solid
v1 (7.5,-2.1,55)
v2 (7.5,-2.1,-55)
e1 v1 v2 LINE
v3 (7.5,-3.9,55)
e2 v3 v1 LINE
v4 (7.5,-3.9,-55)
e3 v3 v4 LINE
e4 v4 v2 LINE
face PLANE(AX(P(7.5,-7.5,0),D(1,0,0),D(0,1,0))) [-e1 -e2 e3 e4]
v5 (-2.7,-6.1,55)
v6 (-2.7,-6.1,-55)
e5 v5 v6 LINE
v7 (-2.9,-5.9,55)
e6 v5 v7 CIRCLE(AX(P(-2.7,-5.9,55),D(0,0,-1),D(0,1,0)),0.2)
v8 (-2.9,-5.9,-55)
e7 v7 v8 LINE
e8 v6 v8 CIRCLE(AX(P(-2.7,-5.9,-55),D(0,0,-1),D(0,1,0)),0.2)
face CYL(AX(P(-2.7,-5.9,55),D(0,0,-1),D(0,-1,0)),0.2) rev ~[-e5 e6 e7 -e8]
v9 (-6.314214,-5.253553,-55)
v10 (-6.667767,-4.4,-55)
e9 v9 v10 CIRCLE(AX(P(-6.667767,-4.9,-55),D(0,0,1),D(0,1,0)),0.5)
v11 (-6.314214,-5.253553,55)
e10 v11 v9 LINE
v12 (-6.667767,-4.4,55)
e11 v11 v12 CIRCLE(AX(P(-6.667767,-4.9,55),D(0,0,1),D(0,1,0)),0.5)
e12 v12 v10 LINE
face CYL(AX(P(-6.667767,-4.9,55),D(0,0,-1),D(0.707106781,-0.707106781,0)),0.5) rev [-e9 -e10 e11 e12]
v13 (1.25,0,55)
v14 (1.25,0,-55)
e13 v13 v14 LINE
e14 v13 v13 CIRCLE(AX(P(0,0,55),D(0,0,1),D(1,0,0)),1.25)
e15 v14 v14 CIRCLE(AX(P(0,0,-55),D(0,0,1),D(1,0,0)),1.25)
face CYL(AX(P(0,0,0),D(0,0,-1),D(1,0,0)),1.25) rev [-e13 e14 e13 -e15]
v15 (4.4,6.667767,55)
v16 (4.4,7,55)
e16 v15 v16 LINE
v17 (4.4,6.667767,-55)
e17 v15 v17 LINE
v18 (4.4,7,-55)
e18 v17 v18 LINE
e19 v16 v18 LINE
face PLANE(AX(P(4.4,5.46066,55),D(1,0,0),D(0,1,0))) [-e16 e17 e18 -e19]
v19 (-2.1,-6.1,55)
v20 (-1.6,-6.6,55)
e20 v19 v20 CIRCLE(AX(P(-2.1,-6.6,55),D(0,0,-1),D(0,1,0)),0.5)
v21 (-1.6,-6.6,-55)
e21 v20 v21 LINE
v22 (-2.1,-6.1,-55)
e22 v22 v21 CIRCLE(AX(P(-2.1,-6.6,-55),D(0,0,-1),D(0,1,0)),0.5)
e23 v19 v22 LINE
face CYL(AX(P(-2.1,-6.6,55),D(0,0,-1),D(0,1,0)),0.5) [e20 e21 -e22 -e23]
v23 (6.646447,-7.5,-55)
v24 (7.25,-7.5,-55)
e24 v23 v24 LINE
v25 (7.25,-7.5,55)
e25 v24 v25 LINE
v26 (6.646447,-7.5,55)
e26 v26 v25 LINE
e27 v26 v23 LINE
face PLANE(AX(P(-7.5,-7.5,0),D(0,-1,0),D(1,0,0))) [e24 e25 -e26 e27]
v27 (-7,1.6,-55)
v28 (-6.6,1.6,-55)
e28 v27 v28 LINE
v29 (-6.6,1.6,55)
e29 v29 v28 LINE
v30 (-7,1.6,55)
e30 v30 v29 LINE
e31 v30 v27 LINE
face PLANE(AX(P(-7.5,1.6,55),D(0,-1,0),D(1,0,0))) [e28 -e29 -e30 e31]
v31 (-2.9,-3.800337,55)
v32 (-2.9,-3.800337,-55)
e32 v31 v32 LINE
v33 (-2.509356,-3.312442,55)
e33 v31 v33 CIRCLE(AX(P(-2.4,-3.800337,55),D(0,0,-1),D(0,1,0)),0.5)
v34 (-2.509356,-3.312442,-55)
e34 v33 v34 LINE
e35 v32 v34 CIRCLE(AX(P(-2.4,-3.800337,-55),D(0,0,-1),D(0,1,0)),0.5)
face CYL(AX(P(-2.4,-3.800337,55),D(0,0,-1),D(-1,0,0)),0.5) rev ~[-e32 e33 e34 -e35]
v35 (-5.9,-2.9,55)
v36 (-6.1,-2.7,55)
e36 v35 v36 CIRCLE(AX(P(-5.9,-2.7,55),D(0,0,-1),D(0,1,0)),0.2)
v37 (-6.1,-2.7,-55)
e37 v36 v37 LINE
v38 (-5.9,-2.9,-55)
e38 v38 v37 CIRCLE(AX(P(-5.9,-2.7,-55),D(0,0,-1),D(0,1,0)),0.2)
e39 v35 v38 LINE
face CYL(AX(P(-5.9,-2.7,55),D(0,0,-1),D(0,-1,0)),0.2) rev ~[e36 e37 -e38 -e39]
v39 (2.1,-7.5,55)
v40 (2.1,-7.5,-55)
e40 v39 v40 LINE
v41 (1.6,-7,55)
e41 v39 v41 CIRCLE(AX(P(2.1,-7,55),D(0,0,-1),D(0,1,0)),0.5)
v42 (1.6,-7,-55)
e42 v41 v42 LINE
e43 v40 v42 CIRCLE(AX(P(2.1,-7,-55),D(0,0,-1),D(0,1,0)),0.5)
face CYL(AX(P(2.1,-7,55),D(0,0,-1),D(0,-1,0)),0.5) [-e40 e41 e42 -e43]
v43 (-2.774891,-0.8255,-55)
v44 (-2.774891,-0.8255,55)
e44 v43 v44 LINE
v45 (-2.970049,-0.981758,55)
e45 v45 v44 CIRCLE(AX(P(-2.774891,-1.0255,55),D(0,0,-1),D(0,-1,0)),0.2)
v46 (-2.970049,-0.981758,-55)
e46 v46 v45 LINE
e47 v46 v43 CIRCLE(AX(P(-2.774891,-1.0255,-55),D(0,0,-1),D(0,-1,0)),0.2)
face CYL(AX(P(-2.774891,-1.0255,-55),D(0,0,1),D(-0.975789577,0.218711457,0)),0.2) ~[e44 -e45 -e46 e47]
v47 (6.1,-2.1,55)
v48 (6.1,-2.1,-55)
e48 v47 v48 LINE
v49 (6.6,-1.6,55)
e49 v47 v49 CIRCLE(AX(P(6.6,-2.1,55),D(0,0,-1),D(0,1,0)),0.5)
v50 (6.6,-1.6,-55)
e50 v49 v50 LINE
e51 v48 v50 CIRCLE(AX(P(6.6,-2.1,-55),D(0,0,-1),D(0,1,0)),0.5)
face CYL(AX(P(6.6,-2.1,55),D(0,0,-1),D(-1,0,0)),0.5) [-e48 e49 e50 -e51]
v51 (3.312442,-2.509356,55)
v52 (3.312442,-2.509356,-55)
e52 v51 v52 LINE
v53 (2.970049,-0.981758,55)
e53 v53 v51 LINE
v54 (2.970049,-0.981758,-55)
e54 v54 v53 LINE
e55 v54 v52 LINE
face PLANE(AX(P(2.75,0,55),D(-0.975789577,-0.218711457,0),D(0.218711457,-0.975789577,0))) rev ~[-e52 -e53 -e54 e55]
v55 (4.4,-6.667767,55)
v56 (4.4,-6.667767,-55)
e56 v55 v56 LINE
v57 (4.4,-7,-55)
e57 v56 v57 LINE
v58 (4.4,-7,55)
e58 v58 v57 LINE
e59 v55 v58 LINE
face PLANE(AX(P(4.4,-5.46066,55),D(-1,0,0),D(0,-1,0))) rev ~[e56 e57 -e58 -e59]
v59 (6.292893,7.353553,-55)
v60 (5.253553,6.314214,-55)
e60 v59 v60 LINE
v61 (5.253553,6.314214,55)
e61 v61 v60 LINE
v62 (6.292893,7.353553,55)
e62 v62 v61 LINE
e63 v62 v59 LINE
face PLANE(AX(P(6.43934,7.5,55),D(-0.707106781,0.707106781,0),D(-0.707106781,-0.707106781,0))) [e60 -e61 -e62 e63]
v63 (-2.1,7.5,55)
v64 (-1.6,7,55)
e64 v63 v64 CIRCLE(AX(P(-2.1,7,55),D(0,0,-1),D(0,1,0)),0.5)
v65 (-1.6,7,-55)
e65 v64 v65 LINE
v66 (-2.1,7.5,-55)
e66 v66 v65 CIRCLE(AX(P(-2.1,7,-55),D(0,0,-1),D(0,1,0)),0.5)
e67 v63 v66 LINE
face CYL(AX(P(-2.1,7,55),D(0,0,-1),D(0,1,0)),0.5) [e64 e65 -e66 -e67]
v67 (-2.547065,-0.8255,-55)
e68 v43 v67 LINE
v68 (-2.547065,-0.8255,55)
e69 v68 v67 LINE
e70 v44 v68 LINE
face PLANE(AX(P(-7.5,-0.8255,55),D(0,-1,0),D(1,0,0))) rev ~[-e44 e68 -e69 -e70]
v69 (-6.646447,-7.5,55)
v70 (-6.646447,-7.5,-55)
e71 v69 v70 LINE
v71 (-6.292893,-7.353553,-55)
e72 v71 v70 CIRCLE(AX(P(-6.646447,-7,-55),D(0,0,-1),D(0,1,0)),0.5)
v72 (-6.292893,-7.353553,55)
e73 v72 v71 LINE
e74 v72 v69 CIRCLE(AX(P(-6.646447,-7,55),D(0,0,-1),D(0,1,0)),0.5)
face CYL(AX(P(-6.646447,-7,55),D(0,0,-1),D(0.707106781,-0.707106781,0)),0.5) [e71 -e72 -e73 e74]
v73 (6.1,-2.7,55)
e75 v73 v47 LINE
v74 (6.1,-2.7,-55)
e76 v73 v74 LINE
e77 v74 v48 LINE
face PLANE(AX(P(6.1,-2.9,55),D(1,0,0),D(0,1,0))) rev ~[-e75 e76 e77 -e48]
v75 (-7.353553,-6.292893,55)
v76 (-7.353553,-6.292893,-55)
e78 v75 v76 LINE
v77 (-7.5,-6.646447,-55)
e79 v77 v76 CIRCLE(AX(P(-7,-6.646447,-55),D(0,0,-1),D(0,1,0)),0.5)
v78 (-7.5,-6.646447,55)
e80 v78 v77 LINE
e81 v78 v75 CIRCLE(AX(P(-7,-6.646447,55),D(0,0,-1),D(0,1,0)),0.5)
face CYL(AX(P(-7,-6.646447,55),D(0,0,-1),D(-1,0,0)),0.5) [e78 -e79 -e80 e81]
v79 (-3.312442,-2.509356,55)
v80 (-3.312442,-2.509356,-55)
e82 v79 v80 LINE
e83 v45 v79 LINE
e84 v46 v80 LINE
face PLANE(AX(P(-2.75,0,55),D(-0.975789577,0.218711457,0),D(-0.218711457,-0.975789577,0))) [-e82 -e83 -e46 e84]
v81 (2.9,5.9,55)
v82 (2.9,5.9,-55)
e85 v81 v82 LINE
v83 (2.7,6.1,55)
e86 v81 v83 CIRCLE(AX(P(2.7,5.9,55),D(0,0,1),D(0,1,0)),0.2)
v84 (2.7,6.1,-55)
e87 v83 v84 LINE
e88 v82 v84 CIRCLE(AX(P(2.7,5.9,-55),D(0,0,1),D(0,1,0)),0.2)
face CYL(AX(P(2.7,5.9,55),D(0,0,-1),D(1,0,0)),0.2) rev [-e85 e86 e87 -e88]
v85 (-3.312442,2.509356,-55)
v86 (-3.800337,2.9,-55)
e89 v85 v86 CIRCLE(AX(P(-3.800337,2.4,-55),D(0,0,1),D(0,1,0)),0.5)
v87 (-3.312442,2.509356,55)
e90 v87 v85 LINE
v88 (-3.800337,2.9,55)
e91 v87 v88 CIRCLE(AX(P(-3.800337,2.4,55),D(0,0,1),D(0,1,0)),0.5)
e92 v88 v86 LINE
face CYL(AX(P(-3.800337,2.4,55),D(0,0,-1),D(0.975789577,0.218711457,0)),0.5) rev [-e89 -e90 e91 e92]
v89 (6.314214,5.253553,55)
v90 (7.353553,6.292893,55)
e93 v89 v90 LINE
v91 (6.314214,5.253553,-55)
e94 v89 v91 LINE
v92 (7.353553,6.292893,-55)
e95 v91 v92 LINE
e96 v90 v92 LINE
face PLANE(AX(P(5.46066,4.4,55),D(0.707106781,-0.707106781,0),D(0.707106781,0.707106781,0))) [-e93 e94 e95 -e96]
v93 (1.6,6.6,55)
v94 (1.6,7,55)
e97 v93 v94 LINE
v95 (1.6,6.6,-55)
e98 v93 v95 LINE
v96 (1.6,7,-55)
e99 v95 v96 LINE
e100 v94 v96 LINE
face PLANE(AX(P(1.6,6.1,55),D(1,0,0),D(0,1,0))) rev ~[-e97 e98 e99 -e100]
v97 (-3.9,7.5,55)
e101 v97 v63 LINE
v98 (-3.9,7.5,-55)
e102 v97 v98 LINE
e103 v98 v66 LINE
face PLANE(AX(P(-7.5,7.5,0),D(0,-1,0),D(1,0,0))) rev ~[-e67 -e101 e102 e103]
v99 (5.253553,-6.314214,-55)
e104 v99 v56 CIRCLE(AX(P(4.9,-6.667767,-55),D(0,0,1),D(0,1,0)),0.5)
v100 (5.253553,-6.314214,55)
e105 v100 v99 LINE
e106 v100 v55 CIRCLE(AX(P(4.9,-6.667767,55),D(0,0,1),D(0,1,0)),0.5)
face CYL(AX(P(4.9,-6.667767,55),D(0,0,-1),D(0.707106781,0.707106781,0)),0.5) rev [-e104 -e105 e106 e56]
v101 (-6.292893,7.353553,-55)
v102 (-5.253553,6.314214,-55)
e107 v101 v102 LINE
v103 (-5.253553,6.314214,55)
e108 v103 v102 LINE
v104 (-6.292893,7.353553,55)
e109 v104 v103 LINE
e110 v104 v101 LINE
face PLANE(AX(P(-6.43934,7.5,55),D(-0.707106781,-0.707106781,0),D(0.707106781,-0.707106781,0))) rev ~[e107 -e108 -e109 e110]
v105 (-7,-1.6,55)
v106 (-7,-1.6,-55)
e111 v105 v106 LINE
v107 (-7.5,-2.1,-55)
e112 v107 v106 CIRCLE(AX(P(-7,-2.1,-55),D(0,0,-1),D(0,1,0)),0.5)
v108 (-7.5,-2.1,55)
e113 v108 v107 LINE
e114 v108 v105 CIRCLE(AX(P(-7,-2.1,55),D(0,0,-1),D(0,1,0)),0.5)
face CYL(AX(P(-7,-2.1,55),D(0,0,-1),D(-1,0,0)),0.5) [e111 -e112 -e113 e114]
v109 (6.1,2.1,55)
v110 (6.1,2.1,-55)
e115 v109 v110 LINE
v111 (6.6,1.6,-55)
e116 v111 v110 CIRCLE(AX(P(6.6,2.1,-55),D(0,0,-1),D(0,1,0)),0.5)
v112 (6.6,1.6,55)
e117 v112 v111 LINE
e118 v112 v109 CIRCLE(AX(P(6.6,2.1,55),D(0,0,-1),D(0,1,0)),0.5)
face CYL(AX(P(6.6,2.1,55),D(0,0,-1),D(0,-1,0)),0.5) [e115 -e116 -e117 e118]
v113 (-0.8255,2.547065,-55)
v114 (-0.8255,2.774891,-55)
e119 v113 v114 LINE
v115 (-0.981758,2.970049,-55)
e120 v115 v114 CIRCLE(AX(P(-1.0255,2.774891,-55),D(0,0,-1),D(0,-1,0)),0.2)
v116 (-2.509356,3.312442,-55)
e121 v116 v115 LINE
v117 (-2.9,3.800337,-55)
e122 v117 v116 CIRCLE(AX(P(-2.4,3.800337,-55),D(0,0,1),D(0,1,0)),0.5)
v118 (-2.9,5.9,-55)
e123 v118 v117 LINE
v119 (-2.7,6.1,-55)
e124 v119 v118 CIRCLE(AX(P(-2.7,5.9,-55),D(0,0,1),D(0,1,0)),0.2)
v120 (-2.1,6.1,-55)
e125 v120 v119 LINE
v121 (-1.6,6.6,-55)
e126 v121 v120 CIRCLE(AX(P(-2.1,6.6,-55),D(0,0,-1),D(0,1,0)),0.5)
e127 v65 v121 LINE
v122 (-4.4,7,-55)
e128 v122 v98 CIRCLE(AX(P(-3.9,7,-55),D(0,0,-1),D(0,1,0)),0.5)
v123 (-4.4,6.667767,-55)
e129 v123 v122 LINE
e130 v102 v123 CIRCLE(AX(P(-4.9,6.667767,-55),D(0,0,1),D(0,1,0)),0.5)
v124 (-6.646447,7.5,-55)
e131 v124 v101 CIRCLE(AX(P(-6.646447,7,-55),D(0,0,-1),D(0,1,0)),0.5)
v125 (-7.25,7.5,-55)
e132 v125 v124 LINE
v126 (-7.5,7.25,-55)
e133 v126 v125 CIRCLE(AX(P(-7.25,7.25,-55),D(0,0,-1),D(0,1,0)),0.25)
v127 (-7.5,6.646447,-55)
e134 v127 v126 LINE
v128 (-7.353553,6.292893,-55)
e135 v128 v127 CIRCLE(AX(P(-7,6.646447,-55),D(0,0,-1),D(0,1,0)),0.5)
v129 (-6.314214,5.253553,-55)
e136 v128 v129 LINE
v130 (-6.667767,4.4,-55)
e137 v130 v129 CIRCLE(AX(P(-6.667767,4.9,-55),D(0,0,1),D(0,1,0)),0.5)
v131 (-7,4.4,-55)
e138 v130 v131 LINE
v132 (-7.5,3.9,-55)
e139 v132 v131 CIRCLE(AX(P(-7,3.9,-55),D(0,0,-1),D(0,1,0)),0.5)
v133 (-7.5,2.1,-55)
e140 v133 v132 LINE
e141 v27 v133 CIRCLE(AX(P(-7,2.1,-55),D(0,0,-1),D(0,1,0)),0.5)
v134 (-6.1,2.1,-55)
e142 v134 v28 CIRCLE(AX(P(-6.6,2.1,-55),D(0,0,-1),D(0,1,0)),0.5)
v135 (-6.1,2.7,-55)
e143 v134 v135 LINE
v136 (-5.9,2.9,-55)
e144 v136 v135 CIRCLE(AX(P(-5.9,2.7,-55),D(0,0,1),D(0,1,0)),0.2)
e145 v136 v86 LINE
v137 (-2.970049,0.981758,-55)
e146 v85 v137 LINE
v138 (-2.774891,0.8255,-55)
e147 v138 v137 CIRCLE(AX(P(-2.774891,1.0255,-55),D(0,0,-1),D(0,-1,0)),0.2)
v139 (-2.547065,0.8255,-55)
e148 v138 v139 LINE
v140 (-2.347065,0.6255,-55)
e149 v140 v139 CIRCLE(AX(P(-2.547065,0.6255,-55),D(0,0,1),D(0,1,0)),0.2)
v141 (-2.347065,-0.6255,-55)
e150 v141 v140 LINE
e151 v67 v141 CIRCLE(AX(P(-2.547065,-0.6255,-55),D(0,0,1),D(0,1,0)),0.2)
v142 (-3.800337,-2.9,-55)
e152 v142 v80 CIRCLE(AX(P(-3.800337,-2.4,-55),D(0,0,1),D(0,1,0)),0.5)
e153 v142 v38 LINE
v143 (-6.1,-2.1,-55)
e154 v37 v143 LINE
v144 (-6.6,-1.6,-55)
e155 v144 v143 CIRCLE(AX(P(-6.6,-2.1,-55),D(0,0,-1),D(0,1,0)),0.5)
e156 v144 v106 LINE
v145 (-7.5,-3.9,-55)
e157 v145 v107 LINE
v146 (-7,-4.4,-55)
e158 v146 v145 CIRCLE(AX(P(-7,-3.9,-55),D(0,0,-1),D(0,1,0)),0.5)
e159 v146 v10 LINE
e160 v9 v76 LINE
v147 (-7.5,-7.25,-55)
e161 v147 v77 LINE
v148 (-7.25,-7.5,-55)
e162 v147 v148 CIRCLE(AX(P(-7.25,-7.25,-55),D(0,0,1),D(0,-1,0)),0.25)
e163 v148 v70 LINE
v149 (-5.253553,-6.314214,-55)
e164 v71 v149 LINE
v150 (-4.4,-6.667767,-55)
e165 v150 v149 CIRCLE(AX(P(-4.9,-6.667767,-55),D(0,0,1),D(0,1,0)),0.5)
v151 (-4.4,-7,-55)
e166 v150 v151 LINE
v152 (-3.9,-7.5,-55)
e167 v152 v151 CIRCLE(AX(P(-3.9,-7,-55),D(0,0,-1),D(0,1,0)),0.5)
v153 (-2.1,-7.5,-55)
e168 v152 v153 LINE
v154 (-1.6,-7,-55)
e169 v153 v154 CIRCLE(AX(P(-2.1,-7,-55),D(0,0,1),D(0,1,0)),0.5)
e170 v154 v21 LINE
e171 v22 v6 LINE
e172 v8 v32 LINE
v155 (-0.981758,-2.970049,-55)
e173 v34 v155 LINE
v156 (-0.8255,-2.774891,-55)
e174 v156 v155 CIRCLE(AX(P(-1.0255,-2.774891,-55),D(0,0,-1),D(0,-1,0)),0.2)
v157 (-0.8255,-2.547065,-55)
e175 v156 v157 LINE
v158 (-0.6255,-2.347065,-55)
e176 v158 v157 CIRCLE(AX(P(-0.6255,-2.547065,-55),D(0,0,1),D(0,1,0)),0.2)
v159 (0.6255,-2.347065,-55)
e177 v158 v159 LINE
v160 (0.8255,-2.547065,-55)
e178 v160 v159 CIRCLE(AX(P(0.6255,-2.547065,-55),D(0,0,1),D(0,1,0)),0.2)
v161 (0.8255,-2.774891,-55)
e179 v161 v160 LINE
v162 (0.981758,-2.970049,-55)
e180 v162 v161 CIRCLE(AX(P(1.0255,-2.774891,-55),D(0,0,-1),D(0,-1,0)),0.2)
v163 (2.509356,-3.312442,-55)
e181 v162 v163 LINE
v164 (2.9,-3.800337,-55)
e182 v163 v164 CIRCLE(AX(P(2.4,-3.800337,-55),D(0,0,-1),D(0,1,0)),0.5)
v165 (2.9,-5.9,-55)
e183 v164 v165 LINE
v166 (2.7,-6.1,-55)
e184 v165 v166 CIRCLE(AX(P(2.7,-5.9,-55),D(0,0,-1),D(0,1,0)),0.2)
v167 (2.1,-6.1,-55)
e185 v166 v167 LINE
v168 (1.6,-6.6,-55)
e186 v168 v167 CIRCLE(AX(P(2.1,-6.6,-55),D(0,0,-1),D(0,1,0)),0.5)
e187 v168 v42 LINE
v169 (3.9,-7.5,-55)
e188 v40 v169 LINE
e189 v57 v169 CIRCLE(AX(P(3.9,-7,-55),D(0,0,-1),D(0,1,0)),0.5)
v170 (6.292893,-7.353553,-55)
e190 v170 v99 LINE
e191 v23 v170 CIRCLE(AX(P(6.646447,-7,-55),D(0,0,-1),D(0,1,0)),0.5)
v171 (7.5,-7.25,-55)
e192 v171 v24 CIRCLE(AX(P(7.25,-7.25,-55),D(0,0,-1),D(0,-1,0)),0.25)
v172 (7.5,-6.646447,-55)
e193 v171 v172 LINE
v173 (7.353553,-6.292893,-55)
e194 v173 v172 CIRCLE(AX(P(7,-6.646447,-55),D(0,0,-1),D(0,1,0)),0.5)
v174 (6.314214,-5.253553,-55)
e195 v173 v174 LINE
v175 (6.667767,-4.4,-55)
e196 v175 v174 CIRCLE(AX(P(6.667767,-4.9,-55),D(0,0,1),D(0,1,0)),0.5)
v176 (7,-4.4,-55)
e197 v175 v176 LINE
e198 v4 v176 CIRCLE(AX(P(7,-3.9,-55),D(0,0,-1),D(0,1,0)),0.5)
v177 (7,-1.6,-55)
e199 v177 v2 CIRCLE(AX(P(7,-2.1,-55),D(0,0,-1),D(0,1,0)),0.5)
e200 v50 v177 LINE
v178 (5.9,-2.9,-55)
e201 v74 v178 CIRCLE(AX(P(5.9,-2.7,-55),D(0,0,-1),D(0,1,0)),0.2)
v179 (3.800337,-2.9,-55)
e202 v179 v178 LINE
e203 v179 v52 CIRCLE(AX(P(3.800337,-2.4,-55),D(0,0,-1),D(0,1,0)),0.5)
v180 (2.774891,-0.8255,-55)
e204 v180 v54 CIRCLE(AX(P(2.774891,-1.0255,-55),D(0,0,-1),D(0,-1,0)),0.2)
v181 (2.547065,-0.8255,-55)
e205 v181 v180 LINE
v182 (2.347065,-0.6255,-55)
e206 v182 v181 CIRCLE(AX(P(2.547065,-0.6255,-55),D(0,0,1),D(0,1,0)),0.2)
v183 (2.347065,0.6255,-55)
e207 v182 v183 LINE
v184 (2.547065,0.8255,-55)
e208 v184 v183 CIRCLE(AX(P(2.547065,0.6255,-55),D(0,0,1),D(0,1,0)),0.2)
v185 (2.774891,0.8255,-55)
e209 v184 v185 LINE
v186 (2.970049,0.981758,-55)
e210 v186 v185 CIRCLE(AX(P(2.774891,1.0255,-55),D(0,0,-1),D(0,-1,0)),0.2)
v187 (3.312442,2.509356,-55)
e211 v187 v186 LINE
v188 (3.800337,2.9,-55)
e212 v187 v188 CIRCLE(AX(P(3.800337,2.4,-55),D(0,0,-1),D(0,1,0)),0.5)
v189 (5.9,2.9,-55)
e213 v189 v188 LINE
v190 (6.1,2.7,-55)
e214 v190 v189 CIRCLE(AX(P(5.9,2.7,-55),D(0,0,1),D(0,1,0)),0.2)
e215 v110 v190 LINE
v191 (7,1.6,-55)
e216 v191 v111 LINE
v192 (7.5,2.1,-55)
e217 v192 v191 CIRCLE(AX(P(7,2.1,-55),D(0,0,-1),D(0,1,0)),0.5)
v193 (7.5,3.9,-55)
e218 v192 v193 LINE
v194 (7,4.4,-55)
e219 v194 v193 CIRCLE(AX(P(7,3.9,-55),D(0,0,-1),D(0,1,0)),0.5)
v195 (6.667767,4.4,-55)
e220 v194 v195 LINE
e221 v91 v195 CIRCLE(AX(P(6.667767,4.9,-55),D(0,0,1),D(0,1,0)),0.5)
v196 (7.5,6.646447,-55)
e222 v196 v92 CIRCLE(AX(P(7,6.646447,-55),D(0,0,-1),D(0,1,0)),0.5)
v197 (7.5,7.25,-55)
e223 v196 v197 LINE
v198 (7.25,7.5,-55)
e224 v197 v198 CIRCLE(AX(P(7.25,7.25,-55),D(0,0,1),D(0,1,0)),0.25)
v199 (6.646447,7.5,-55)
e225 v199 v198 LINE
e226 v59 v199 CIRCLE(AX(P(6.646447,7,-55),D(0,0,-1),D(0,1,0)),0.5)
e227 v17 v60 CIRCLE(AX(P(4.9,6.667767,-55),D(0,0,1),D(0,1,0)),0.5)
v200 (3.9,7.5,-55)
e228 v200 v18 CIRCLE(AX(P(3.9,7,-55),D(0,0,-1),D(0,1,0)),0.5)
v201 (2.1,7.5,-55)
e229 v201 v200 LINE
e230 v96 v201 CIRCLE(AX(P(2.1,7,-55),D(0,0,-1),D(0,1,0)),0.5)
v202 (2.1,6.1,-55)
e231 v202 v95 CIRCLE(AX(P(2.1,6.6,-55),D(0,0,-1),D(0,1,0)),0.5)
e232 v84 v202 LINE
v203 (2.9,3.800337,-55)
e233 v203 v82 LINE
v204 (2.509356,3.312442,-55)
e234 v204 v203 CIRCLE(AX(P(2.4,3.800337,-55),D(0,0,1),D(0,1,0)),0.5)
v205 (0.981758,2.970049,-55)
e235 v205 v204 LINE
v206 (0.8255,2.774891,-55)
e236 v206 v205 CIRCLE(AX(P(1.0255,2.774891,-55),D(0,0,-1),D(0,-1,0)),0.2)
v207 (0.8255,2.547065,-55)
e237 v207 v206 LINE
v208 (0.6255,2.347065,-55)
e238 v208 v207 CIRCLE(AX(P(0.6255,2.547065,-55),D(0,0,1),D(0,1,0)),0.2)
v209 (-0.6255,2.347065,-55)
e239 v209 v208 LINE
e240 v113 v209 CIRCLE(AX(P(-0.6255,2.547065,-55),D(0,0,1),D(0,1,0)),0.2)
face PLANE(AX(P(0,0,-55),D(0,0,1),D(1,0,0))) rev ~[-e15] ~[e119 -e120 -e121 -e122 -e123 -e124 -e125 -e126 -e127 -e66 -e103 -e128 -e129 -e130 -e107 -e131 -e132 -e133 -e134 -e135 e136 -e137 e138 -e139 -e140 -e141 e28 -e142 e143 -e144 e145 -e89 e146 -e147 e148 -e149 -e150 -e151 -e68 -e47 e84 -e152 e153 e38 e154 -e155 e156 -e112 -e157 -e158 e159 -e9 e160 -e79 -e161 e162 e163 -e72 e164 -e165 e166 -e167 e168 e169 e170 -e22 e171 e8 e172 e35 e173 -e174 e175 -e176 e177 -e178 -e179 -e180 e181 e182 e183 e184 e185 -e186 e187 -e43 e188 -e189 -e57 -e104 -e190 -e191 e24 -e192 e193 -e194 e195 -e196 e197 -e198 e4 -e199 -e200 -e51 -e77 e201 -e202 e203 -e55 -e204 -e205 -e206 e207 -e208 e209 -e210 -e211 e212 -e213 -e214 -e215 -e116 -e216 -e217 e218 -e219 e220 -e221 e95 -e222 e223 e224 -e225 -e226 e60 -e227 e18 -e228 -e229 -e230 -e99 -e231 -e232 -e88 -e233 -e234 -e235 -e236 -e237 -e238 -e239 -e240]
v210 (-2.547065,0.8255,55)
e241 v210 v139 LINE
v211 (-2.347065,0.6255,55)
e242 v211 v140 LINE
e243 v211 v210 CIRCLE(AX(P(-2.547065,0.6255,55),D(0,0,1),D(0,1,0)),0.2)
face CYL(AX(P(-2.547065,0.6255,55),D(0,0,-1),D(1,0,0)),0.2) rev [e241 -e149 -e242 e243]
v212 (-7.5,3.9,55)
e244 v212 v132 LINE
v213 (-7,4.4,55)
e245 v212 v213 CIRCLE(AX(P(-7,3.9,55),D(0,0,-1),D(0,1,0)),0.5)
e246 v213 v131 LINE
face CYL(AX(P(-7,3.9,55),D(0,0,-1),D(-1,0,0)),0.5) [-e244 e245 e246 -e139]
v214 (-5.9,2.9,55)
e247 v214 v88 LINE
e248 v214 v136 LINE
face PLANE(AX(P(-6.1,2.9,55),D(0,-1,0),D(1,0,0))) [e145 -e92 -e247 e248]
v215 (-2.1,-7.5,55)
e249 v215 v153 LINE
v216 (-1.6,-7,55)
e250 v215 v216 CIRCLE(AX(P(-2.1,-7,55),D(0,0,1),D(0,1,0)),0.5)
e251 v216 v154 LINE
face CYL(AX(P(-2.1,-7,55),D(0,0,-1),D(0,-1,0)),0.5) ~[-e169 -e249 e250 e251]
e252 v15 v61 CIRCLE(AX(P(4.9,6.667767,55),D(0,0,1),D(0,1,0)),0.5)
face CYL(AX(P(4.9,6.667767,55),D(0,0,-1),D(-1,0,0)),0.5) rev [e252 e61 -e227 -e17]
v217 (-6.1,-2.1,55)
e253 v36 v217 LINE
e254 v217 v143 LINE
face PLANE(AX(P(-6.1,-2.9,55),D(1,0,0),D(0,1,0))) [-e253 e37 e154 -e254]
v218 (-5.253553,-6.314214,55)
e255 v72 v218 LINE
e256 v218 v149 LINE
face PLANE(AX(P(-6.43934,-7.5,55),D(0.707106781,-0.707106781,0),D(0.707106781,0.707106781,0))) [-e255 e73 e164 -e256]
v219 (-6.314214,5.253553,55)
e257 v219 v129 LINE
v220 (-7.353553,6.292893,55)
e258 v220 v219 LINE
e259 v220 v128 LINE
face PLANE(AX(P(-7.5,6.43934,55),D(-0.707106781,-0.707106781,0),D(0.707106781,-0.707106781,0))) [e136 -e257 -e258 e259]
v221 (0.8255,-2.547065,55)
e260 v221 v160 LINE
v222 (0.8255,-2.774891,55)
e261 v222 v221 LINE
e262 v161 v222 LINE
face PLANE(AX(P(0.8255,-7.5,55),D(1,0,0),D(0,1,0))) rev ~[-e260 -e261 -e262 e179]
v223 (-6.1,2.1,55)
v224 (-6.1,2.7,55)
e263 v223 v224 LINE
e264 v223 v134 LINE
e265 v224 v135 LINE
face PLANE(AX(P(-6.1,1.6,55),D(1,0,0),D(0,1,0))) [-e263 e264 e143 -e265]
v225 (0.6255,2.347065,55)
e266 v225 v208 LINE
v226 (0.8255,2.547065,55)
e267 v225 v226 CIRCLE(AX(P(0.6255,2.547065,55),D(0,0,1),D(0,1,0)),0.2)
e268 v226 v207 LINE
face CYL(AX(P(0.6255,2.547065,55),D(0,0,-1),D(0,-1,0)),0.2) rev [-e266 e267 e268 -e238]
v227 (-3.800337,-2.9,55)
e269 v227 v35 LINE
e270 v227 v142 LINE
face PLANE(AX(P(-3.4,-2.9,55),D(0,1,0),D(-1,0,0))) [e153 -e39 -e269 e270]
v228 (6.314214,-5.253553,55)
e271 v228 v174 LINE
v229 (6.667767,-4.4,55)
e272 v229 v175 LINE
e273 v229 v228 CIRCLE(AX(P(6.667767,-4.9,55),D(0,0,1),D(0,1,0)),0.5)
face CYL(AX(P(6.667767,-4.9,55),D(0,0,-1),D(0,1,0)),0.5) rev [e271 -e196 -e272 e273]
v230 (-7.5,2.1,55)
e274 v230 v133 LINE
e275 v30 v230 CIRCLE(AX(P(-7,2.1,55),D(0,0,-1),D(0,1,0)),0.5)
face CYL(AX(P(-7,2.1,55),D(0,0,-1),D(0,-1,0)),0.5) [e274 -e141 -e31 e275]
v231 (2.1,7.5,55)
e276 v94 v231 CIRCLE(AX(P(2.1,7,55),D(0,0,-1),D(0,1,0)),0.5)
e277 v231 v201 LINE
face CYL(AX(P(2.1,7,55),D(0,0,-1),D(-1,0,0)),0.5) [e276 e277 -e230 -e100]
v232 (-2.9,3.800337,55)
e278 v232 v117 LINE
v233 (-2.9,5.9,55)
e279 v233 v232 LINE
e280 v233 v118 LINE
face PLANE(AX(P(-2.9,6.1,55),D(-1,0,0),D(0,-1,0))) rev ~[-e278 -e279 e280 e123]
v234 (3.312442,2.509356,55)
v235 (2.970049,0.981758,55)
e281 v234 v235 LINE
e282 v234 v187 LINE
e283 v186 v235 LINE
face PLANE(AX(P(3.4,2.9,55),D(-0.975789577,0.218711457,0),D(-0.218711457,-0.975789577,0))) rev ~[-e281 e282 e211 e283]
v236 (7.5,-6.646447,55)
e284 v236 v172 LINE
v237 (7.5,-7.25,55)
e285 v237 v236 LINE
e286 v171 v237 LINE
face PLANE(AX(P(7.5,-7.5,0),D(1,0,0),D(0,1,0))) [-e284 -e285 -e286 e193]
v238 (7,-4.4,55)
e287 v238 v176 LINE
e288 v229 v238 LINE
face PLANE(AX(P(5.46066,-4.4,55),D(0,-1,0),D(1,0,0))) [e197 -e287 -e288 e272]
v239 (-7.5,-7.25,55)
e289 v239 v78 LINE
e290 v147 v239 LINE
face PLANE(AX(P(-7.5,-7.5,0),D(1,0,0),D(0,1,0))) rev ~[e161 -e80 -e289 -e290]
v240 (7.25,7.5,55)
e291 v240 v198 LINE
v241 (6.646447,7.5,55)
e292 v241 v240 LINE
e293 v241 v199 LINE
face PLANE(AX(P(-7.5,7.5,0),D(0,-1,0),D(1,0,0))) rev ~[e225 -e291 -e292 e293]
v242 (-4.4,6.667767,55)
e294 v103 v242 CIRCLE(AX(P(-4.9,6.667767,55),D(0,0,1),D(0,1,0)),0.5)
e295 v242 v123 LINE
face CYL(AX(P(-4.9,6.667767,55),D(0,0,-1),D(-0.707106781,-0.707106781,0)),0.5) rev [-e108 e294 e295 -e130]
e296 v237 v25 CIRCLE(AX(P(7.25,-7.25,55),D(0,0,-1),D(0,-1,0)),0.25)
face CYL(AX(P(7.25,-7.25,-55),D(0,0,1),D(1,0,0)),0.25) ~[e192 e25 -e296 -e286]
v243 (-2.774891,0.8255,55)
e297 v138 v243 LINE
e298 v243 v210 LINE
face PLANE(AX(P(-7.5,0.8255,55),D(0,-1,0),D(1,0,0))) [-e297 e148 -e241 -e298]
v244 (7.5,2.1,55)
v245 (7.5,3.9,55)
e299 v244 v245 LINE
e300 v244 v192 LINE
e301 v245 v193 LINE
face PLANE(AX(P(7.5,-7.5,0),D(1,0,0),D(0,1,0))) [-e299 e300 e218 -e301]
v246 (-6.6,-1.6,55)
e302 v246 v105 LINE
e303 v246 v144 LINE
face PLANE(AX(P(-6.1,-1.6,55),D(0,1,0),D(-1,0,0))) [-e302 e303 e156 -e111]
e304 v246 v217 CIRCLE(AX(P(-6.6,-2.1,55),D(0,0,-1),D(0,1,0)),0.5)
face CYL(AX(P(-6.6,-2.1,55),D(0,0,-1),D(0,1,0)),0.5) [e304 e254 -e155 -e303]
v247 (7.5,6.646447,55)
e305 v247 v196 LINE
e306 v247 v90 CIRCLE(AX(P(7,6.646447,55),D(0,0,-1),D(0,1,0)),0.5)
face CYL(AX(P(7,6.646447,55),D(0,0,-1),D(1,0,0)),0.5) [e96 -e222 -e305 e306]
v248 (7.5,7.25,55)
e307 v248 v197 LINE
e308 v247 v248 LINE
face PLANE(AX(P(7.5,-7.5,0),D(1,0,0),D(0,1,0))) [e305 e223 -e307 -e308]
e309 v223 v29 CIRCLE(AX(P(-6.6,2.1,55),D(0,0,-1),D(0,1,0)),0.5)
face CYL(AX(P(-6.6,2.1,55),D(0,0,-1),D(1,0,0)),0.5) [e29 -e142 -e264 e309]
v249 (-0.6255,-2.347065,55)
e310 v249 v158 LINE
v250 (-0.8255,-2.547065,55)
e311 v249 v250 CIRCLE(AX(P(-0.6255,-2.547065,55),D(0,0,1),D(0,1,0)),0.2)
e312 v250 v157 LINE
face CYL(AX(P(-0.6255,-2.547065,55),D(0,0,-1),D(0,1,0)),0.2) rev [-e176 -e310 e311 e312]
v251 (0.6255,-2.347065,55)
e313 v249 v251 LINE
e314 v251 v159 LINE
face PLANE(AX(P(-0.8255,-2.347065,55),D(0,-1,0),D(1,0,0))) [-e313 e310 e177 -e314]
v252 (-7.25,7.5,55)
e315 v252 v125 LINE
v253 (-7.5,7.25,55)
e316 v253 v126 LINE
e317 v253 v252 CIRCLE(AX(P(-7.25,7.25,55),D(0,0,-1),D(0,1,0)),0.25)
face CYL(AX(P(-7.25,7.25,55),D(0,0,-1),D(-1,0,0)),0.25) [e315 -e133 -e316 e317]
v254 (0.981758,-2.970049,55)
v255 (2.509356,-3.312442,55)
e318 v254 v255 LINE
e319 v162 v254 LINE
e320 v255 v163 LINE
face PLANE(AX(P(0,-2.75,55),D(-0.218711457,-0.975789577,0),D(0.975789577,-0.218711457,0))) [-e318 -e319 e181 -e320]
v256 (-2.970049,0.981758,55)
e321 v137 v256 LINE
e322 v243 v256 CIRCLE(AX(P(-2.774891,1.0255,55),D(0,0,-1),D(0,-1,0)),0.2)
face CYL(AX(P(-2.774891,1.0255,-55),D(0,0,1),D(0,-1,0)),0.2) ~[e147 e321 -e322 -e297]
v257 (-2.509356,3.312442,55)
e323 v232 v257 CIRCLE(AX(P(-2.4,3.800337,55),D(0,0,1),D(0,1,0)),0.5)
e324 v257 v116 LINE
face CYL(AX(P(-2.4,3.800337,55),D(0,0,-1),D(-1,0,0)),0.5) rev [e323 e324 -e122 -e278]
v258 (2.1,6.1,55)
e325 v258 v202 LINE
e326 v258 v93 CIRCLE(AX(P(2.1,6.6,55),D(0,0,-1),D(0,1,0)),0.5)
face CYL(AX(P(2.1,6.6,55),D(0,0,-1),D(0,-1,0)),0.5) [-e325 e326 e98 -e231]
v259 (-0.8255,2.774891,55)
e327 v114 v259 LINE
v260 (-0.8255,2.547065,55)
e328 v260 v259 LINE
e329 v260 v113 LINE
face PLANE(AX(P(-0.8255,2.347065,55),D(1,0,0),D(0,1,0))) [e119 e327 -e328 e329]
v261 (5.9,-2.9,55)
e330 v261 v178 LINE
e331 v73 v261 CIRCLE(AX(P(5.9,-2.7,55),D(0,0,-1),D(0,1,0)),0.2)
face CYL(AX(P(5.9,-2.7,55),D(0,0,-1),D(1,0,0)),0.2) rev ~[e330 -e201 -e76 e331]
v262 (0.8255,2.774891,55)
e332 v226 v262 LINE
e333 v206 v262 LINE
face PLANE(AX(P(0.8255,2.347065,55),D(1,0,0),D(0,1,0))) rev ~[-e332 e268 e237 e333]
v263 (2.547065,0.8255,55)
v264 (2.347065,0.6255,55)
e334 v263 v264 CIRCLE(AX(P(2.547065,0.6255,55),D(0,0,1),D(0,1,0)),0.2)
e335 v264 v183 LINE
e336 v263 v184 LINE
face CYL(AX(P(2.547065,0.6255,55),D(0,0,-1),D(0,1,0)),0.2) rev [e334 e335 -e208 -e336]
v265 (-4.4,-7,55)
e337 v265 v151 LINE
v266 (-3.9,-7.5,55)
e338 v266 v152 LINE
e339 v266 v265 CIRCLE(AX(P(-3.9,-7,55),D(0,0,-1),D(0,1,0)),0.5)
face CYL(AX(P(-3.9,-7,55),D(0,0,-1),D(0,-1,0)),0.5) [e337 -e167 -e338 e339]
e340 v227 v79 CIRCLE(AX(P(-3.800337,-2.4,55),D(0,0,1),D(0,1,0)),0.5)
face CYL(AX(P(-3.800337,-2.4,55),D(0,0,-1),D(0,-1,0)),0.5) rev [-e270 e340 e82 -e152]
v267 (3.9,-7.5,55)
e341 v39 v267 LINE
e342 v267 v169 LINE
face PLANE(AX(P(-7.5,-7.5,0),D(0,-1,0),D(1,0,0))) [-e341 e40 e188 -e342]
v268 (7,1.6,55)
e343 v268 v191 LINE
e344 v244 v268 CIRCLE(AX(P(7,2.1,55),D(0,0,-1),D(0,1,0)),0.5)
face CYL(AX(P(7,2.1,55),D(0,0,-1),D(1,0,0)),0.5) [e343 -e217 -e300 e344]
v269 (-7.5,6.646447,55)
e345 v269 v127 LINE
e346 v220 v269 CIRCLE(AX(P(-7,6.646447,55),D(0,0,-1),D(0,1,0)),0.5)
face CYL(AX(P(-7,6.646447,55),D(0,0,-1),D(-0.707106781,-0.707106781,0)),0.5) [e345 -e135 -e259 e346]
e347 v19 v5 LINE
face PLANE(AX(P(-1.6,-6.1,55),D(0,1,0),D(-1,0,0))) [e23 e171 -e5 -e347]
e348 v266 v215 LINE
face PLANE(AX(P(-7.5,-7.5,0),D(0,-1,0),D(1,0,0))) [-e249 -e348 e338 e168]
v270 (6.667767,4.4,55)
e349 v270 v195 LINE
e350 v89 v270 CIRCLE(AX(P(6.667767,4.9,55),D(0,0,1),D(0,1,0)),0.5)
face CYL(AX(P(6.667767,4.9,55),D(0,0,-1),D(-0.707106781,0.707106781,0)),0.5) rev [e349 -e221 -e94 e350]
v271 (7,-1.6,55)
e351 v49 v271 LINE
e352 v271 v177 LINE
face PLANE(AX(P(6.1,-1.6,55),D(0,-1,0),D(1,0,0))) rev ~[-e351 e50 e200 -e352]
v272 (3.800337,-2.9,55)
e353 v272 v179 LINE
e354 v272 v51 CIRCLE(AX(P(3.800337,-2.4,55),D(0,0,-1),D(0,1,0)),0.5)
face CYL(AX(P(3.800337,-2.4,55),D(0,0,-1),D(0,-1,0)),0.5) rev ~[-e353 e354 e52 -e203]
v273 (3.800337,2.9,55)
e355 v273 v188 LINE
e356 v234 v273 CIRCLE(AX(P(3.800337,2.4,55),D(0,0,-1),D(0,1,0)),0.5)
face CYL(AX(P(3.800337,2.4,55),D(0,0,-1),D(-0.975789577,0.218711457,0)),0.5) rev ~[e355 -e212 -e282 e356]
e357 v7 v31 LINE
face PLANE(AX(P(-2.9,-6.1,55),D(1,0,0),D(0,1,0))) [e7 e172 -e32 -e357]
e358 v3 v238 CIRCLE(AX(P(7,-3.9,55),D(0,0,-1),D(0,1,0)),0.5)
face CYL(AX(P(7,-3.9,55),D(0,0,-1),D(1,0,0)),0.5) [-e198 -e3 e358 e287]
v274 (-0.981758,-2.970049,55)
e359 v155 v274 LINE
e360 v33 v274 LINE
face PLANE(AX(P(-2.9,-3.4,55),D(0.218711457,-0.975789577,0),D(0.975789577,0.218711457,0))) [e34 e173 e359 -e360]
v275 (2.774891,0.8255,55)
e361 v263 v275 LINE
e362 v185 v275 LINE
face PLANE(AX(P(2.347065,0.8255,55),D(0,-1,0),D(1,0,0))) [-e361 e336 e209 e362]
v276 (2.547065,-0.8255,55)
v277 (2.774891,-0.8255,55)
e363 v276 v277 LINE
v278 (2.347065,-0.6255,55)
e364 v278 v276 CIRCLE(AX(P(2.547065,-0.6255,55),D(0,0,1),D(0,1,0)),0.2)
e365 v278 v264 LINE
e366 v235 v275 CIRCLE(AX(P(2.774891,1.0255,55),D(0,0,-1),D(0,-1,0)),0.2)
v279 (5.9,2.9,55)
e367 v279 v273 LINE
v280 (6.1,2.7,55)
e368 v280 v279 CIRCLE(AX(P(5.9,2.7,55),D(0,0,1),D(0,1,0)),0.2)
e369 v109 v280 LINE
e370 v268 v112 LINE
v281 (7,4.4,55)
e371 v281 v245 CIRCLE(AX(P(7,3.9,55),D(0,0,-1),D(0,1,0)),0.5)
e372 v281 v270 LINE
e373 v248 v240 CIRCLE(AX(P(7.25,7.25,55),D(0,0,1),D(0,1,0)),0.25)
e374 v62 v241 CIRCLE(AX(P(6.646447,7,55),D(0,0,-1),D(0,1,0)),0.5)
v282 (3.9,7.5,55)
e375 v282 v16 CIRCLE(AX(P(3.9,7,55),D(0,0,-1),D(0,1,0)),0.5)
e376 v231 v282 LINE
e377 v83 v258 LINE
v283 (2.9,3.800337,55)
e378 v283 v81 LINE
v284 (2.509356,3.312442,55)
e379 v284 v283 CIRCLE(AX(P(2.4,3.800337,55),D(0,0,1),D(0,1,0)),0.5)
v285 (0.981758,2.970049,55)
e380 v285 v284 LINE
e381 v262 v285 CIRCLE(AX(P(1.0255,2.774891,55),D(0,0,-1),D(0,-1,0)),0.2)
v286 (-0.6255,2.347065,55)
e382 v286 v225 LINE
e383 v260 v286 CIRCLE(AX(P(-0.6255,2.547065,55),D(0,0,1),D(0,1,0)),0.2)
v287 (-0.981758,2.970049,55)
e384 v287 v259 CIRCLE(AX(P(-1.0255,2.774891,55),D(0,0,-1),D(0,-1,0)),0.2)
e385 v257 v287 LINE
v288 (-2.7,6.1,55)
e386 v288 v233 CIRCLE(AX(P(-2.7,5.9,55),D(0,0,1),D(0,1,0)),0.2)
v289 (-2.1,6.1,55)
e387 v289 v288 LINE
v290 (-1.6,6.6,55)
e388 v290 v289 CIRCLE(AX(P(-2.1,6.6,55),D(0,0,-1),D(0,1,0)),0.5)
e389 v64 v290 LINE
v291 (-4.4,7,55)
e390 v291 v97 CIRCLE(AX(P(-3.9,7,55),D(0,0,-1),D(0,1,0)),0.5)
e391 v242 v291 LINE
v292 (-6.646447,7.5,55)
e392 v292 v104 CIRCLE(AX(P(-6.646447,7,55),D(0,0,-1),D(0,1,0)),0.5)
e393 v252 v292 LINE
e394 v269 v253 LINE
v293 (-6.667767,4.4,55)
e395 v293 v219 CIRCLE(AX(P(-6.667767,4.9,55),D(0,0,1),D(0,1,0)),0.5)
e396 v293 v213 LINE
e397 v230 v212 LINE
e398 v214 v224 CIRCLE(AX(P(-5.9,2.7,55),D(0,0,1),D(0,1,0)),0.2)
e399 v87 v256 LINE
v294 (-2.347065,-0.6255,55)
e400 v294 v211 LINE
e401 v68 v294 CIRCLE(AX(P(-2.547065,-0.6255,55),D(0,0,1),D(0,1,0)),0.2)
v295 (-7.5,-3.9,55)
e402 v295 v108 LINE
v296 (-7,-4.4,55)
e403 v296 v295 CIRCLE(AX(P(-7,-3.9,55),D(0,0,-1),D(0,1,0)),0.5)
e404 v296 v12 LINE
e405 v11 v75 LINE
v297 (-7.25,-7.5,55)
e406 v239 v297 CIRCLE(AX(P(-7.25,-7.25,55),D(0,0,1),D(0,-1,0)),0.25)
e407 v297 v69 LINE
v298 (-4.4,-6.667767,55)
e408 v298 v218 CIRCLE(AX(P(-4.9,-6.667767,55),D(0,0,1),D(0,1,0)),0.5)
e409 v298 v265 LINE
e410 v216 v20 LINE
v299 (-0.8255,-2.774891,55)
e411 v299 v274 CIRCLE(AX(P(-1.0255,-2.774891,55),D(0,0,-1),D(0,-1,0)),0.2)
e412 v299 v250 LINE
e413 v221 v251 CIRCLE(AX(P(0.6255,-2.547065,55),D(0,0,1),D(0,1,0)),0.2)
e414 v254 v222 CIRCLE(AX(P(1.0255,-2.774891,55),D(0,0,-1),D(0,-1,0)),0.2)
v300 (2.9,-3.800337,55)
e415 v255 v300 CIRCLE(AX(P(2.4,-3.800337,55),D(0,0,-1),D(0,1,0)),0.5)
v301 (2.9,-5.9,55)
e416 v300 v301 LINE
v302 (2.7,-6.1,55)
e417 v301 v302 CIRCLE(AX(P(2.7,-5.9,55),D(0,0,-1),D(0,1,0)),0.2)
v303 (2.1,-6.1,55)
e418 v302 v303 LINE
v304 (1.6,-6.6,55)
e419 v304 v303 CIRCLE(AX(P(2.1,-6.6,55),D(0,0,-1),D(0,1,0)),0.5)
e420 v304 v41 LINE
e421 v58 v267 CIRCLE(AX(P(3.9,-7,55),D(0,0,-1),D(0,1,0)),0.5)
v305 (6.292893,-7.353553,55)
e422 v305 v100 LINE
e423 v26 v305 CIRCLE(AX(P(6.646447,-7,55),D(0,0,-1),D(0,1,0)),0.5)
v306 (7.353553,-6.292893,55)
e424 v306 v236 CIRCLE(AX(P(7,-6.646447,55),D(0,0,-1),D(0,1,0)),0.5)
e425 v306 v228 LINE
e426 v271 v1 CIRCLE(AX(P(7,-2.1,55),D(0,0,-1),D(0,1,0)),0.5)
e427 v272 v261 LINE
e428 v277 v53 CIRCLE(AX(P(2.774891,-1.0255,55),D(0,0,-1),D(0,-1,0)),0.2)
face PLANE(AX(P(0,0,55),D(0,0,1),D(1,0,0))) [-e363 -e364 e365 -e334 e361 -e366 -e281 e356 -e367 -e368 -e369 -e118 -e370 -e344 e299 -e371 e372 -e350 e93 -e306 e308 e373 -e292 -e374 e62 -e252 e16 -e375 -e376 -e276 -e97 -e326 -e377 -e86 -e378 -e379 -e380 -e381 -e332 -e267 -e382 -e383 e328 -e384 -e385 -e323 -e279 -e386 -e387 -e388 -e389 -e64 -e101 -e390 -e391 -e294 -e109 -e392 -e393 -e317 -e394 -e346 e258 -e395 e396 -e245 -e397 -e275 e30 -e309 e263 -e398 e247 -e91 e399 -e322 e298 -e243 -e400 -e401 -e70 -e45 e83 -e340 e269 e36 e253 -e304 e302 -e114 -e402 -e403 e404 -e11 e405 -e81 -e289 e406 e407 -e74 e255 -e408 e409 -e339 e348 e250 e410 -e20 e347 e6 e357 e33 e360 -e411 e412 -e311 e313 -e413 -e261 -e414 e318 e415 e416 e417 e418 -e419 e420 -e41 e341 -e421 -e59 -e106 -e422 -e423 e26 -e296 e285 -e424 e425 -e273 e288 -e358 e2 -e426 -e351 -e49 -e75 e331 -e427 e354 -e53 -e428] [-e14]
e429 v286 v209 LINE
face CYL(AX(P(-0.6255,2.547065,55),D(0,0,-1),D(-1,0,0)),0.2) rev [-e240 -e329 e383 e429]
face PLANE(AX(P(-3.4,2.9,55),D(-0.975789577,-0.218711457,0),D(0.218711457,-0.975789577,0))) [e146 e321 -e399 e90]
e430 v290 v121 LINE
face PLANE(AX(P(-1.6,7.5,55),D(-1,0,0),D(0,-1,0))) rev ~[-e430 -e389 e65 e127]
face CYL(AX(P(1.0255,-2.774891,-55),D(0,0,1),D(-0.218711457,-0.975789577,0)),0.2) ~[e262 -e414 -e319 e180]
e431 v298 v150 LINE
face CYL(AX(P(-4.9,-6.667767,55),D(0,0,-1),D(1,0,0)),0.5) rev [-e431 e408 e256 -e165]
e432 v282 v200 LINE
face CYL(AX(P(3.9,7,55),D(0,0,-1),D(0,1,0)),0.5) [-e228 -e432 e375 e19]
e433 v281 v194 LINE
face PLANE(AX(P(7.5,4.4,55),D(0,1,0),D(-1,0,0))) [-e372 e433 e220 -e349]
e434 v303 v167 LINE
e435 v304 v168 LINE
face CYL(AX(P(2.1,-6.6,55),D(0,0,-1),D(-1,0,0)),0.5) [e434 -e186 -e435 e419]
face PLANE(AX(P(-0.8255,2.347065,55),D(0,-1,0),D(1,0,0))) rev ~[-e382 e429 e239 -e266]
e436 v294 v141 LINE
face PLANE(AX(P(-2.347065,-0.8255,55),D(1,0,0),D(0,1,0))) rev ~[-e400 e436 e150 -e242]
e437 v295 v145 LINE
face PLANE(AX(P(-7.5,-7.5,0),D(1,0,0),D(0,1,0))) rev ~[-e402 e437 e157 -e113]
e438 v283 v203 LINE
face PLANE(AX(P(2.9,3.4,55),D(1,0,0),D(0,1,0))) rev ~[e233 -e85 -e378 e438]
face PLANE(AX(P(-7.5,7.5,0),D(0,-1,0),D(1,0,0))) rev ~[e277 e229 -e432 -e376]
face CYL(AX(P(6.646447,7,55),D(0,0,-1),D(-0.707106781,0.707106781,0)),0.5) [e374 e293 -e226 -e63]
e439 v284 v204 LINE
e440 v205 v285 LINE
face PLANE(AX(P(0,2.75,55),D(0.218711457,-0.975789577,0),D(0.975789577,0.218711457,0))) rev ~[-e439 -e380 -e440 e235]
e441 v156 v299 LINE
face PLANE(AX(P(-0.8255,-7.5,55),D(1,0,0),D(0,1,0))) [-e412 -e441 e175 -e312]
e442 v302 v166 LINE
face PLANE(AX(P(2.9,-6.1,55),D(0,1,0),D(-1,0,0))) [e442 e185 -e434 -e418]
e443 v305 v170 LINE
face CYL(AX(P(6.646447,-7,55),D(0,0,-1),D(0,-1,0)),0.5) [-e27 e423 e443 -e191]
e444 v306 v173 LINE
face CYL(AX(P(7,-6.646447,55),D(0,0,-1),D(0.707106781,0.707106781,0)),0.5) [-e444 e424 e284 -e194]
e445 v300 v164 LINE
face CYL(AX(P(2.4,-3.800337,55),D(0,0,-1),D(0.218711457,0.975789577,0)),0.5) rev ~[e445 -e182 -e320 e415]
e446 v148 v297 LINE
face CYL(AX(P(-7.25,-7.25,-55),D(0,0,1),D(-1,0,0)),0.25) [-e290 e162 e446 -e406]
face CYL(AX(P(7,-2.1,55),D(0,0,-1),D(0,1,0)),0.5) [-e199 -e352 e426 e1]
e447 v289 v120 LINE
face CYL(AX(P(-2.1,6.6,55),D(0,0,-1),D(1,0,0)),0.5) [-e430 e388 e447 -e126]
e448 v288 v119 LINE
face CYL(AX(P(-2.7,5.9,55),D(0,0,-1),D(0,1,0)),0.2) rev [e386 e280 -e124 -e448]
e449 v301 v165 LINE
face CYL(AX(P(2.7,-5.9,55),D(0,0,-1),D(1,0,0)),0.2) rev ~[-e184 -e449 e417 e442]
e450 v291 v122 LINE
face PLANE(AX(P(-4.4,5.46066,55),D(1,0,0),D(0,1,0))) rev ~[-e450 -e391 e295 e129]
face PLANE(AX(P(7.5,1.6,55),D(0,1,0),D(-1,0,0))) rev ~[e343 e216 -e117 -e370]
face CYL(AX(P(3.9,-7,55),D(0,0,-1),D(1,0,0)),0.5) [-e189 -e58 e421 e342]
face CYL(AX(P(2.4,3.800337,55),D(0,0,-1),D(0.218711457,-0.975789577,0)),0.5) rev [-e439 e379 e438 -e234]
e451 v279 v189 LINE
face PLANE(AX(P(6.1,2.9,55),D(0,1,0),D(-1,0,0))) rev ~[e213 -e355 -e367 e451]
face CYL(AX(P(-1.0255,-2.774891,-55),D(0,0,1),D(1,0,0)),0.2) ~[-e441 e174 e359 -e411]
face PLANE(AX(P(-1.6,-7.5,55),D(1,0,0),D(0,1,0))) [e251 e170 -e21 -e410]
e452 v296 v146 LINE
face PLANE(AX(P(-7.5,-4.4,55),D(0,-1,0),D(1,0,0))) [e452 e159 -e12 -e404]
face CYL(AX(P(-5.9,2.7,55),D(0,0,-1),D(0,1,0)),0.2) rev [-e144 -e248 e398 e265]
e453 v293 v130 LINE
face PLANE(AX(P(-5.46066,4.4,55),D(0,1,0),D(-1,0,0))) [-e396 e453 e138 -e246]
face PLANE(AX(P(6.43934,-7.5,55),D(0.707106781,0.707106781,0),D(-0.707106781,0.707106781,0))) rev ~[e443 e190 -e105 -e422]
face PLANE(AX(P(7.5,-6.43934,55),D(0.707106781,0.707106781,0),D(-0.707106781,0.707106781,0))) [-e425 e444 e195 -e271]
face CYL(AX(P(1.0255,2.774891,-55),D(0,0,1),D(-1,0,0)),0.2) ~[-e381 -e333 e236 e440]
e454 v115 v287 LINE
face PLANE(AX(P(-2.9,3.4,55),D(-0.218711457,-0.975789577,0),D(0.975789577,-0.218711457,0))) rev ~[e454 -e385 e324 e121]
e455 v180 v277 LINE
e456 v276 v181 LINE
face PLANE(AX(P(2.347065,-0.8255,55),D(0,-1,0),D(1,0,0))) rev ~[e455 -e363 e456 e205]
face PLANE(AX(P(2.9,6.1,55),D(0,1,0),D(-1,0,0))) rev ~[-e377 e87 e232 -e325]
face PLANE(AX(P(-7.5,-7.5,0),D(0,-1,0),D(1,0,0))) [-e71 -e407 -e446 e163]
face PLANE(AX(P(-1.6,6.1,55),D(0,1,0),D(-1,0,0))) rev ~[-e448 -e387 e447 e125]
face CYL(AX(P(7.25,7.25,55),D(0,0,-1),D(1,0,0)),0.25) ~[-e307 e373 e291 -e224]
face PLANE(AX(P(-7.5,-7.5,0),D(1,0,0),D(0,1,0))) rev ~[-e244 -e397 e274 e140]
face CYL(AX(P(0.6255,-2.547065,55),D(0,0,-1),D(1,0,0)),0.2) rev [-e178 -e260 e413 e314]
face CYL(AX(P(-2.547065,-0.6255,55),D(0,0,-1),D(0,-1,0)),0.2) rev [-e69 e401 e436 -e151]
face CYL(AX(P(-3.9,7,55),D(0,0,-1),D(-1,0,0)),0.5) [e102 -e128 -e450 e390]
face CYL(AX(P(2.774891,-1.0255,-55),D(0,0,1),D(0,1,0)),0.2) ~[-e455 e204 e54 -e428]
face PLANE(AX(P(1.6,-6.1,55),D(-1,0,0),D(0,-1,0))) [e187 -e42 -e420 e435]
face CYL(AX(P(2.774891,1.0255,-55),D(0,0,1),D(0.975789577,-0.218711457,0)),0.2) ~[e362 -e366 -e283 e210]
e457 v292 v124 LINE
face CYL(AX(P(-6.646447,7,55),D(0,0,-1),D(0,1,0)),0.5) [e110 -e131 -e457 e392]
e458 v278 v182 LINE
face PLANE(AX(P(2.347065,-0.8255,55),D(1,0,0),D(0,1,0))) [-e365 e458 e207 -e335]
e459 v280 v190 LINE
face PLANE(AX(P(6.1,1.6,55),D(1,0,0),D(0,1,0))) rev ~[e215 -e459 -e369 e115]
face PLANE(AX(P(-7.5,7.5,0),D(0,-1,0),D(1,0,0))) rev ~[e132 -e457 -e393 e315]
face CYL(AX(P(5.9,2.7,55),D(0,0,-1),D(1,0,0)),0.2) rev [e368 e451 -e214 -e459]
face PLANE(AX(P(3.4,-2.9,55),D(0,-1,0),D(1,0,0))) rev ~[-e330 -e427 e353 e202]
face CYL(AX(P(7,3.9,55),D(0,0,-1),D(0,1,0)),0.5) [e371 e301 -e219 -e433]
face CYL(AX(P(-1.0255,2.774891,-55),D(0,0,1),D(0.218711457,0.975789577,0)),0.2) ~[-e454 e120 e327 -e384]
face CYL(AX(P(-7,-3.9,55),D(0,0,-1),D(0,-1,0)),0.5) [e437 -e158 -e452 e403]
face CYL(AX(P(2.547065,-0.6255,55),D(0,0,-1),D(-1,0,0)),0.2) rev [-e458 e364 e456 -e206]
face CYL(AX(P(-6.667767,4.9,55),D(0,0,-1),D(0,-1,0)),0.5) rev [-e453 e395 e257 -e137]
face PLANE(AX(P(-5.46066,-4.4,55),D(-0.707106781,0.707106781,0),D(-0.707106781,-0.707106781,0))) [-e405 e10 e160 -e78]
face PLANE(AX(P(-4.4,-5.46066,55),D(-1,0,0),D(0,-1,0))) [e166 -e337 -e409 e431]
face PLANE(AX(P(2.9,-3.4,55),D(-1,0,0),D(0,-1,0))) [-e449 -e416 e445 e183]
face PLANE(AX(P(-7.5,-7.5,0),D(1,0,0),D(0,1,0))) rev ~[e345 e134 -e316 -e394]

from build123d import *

# Parameters (mm, degrees)
SKETCH1_W           = 15
SKETCH1_H           = 15
SKETCH1_R           = 1.25
BOSS_EXTRUDE1_DEPTH = 55
FILLET1_R           = 0.25
CUT_EXTRUDE1_DEPTH  = 111.510180527
CUT_EXTRUDE3_DEPTH  = 111.510180527
FILLET3_R           = 0.5
FILLET4_R           = 0.5
FILLET5_R           = 3
FILLET6_R           = 0.2
CUT_EXTRUDE4_DEPTH  = 111.510180527
FILLET8_R           = 0.5
SKETCH6_W           = 5.1529354
SKETCH6_H           = 1.651
SKETCH6_W_2         = 1.651
SKETCH6_H_2         = 5.1529354
CUT_EXTRUDE5_DEPTH  = 111.510180527
FILLET10_R          = 0.2


with BuildPart() as part:
    # Sketch1 → Boss-Extrude1 (new, symmetric)
    with BuildSketch(Plane.XY):
        Rectangle(SKETCH1_W, SKETCH1_H)
        Circle(SKETCH1_R, mode=Mode.SUBTRACT)
    extrude(amount=BOSS_EXTRUDE1_DEPTH, both=True)

    # Fillet1
    fillet1_edges = [part.edges().sort_by_distance(p)[0] for p in [
        (7.5, -7.5, 0),
        (-7.5, -7.5, 0),
        (-7.5, 7.5, 0),
        (7.5, 7.5, 0),
    ]]
    fillet(fillet1_edges, radius=FILLET1_R)

    # Sketch2 → Cut-Extrude1 (cut, through all)
    with BuildSketch(Plane.XY.offset(55)):
        Polygon((-7.5, 1.6), (-6.1, 1.6), (-6.1, 2.9), (-3.4, 2.9), (-3.4, -2.9), (-6.1, -2.9), (-6.1, -1.6), (-7.5, -1.6), align=None)
        Polygon((2.9, 6.1), (1.6, 6.1), (1.6, 7.5), (-1.6, 7.5), (-1.6, 6.1), (-2.9, 6.1), (-2.9, 3.4), (2.9, 3.4), align=None)
        Polygon((-1.6, -7.5), (-1.6, -6.1), (-2.9, -6.1), (-2.9, -3.4), (2.9, -3.4), (2.9, -6.1), (1.6, -6.1), (1.6, -7.5), align=None)
        Polygon((6.1, -2.9), (6.1, -1.6), (7.5, -1.6), (7.5, 1.6), (6.1, 1.6), (6.1, 2.9), (3.4, 2.9), (3.4, -2.9), align=None)
    extrude(amount=-CUT_EXTRUDE1_DEPTH, mode=Mode.SUBTRACT)

    # Sketch4 → Cut-Extrude3 (cut, through all)
    with BuildSketch(Plane.XY.offset(55)):
        Polygon((-3.4, 2.9), (-2.75, 0), (-3.4, -2.9), align=None)
        Polygon((-2.9, 3.4), (0, 2.75), (2.9, 3.4), align=None)
        Polygon((3.4, 2.9), (2.75, 0), (3.4, -2.9), align=None)
        Polygon((-2.9, -3.4), (0, -2.75), (2.9, -3.4), align=None)
    extrude(amount=-CUT_EXTRUDE3_DEPTH, mode=Mode.SUBTRACT)

    # Fillet3
    fillet3_edges = [part.edges().sort_by_distance(p)[0] for p in [
        (1.6, -7.5, 0),
        (-1.6, -7.5, 0),
        (-1.6, -6.1, 0),
        (1.6, -6.1, 0),
        (6.1, 1.6, 0),
        (7.5, 1.6, 0),
        (7.5, -1.6, 0),
        (6.1, -1.6, 0),
        (-7.5, -1.6, 0),
        (-7.5, 1.6, 0),
        (-6.1, 1.6, 0),
        (-6.1, -1.6, 0),
        (-1.6, 6.1, 0),
        (-1.6, 7.5, 0),
        (1.6, 7.5, 0),
        (1.6, 6.1, 0),
    ]]
    fillet(fillet3_edges, radius=FILLET3_R)

    # Fillet4
    fillet4_edges = [part.edges().sort_by_distance(p)[0] for p in [
        (-2.9, -3.4, 0),
        (2.9, -3.4, 0),
        (3.4, -2.9, 0),
        (3.4, 2.9, 0),
        (-3.4, 2.9, 0),
        (-3.4, -2.9, 0),
        (2.9, 3.4, 0),
        (-2.9, 3.4, 0),
    ]]
    fillet(fillet4_edges, radius=FILLET4_R)

    # Fillet5
    fillet5_edges = [part.edges().sort_by_distance(p)[0] for p in [
        (-2.75, 0, 0),
        (0, 2.75, 0),
        (2.75, 0, 0),
        (0, -2.75, 0),
    ]]
    fillet(fillet5_edges, radius=FILLET5_R)

    # Fillet6
    fillet6_edges = [part.edges().sort_by_distance(p)[0] for p in [
        (-2.9, -6.1, 0),
        (2.9, -6.1, 0),
        (6.1, -2.9, 0),
        (6.1, 2.9, 0),
        (-6.1, 2.9, 0),
        (-6.1, -2.9, 0),
        (2.9, 6.1, 0),
        (-2.9, 6.1, 0),
    ]]
    fillet(fillet6_edges, radius=FILLET6_R)

    # Sketch5 → Cut-Extrude4 (cut, through all)
    with BuildSketch(Plane.XY.offset(55)):
        Polygon((-7.5, 6.439339828), (-5.460660172, 4.4), (-7.5, 4.4), align=None)
        Polygon((-6.439339828, 7.5), (-4.4, 5.460660172), (-4.4, 7.5), align=None)
        Polygon((4.4, 7.5), (6.439339828, 7.5), (4.4, 5.460660172), align=None)
        Polygon((7.5, 6.439339828), (7.5, 4.4), (5.460660172, 4.4), align=None)
        Polygon((7.5, -6.439339828), (5.460660172, -4.4), (7.5, -4.4), align=None)
        Polygon((6.439339828, -7.5), (4.4, -5.460660172), (4.4, -7.5), align=None)
        Polygon((-4.4, -7.5), (-6.439339828, -7.5), (-4.4, -5.460660172), align=None)
        Polygon((-7.5, -6.439339828), (-7.5, -4.4), (-5.460660172, -4.4), align=None)
    extrude(amount=-CUT_EXTRUDE4_DEPTH, mode=Mode.SUBTRACT)

    # Fillet8
    fillet8_edges = [part.edges().sort_by_distance(p)[0] for p in [
        (-7.5, 4.4, 0),
        (-7.5, 6.439339828, 0),
        (-5.460660172, 4.4, 0),
        (7.5, -4.4, 0),
        (7.5, -6.439339828, 0),
        (5.460660172, -4.4, 0),
        (5.460660172, 4.4, 0),
        (7.5, 6.439339828, 0),
        (7.5, 4.4, 0),
        (-4.4, 7.5, 0),
        (-4.4, 5.460660172, 0),
        (-6.439339828, 7.5, 0),
        (-5.460660172, -4.4, 0),
        (-7.5, -6.439339828, 0),
        (-7.5, -4.4, 0),
        (4.4, 5.460660172, 0),
        (4.4, 7.5, 0),
        (6.439339828, 7.5, 0),
        (6.439339828, -7.5, 0),
        (4.4, -7.5, 0),
        (4.4, -5.460660172, 0),
        (-6.439339828, -7.5, 0),
        (-4.4, -5.460660172, 0),
        (-4.4, -7.5, 0),
    ]]
    fillet(fillet8_edges, radius=FILLET8_R)

    # Sketch6 → Cut-Extrude5 (cut, through all)
    with BuildSketch(Plane.XY.offset(55)):
        with Locations((4.9235323, 0)):
            Rectangle(SKETCH6_W, SKETCH6_H)
        with Locations((0, -4.9235323)):
            Rectangle(SKETCH6_W_2, SKETCH6_H_2)
        with Locations((-4.9235323, 0)):
            Rectangle(SKETCH6_W, SKETCH6_H)
        with Locations((0, 4.9235323)):
            Rectangle(SKETCH6_W_2, SKETCH6_H_2)
    extrude(amount=-CUT_EXTRUDE5_DEPTH, mode=Mode.SUBTRACT)

    # Fillet10
    fillet10_edges = [part.edges().sort_by_distance(p)[0] for p in [
        (0.8255, -2.935025862, 0),
        (-0.8255, -2.935025862, 0),
        (0.8255, -2.3470646, 0),
        (-0.8255, -2.3470646, 0),
        (2.935025862, 0.8255, 0),
        (2.935025862, -0.8255, 0),
        (2.3470646, 0.8255, 0),
        (2.3470646, -0.8255, 0),
        (-2.935025862, -0.8255, 0),
        (-2.935025862, 0.8255, 0),
        (-2.3470646, -0.8255, 0),
        (-2.3470646, 0.8255, 0),
        (-0.8255, 2.935025862, 0),
        (0.8255, 2.935025862, 0),
        (-0.8255, 2.3470646, 0),
        (0.8255, 2.3470646, 0),
    ]]
    fillet(fillet10_edges, radius=FILLET10_R)


solid = part.part
